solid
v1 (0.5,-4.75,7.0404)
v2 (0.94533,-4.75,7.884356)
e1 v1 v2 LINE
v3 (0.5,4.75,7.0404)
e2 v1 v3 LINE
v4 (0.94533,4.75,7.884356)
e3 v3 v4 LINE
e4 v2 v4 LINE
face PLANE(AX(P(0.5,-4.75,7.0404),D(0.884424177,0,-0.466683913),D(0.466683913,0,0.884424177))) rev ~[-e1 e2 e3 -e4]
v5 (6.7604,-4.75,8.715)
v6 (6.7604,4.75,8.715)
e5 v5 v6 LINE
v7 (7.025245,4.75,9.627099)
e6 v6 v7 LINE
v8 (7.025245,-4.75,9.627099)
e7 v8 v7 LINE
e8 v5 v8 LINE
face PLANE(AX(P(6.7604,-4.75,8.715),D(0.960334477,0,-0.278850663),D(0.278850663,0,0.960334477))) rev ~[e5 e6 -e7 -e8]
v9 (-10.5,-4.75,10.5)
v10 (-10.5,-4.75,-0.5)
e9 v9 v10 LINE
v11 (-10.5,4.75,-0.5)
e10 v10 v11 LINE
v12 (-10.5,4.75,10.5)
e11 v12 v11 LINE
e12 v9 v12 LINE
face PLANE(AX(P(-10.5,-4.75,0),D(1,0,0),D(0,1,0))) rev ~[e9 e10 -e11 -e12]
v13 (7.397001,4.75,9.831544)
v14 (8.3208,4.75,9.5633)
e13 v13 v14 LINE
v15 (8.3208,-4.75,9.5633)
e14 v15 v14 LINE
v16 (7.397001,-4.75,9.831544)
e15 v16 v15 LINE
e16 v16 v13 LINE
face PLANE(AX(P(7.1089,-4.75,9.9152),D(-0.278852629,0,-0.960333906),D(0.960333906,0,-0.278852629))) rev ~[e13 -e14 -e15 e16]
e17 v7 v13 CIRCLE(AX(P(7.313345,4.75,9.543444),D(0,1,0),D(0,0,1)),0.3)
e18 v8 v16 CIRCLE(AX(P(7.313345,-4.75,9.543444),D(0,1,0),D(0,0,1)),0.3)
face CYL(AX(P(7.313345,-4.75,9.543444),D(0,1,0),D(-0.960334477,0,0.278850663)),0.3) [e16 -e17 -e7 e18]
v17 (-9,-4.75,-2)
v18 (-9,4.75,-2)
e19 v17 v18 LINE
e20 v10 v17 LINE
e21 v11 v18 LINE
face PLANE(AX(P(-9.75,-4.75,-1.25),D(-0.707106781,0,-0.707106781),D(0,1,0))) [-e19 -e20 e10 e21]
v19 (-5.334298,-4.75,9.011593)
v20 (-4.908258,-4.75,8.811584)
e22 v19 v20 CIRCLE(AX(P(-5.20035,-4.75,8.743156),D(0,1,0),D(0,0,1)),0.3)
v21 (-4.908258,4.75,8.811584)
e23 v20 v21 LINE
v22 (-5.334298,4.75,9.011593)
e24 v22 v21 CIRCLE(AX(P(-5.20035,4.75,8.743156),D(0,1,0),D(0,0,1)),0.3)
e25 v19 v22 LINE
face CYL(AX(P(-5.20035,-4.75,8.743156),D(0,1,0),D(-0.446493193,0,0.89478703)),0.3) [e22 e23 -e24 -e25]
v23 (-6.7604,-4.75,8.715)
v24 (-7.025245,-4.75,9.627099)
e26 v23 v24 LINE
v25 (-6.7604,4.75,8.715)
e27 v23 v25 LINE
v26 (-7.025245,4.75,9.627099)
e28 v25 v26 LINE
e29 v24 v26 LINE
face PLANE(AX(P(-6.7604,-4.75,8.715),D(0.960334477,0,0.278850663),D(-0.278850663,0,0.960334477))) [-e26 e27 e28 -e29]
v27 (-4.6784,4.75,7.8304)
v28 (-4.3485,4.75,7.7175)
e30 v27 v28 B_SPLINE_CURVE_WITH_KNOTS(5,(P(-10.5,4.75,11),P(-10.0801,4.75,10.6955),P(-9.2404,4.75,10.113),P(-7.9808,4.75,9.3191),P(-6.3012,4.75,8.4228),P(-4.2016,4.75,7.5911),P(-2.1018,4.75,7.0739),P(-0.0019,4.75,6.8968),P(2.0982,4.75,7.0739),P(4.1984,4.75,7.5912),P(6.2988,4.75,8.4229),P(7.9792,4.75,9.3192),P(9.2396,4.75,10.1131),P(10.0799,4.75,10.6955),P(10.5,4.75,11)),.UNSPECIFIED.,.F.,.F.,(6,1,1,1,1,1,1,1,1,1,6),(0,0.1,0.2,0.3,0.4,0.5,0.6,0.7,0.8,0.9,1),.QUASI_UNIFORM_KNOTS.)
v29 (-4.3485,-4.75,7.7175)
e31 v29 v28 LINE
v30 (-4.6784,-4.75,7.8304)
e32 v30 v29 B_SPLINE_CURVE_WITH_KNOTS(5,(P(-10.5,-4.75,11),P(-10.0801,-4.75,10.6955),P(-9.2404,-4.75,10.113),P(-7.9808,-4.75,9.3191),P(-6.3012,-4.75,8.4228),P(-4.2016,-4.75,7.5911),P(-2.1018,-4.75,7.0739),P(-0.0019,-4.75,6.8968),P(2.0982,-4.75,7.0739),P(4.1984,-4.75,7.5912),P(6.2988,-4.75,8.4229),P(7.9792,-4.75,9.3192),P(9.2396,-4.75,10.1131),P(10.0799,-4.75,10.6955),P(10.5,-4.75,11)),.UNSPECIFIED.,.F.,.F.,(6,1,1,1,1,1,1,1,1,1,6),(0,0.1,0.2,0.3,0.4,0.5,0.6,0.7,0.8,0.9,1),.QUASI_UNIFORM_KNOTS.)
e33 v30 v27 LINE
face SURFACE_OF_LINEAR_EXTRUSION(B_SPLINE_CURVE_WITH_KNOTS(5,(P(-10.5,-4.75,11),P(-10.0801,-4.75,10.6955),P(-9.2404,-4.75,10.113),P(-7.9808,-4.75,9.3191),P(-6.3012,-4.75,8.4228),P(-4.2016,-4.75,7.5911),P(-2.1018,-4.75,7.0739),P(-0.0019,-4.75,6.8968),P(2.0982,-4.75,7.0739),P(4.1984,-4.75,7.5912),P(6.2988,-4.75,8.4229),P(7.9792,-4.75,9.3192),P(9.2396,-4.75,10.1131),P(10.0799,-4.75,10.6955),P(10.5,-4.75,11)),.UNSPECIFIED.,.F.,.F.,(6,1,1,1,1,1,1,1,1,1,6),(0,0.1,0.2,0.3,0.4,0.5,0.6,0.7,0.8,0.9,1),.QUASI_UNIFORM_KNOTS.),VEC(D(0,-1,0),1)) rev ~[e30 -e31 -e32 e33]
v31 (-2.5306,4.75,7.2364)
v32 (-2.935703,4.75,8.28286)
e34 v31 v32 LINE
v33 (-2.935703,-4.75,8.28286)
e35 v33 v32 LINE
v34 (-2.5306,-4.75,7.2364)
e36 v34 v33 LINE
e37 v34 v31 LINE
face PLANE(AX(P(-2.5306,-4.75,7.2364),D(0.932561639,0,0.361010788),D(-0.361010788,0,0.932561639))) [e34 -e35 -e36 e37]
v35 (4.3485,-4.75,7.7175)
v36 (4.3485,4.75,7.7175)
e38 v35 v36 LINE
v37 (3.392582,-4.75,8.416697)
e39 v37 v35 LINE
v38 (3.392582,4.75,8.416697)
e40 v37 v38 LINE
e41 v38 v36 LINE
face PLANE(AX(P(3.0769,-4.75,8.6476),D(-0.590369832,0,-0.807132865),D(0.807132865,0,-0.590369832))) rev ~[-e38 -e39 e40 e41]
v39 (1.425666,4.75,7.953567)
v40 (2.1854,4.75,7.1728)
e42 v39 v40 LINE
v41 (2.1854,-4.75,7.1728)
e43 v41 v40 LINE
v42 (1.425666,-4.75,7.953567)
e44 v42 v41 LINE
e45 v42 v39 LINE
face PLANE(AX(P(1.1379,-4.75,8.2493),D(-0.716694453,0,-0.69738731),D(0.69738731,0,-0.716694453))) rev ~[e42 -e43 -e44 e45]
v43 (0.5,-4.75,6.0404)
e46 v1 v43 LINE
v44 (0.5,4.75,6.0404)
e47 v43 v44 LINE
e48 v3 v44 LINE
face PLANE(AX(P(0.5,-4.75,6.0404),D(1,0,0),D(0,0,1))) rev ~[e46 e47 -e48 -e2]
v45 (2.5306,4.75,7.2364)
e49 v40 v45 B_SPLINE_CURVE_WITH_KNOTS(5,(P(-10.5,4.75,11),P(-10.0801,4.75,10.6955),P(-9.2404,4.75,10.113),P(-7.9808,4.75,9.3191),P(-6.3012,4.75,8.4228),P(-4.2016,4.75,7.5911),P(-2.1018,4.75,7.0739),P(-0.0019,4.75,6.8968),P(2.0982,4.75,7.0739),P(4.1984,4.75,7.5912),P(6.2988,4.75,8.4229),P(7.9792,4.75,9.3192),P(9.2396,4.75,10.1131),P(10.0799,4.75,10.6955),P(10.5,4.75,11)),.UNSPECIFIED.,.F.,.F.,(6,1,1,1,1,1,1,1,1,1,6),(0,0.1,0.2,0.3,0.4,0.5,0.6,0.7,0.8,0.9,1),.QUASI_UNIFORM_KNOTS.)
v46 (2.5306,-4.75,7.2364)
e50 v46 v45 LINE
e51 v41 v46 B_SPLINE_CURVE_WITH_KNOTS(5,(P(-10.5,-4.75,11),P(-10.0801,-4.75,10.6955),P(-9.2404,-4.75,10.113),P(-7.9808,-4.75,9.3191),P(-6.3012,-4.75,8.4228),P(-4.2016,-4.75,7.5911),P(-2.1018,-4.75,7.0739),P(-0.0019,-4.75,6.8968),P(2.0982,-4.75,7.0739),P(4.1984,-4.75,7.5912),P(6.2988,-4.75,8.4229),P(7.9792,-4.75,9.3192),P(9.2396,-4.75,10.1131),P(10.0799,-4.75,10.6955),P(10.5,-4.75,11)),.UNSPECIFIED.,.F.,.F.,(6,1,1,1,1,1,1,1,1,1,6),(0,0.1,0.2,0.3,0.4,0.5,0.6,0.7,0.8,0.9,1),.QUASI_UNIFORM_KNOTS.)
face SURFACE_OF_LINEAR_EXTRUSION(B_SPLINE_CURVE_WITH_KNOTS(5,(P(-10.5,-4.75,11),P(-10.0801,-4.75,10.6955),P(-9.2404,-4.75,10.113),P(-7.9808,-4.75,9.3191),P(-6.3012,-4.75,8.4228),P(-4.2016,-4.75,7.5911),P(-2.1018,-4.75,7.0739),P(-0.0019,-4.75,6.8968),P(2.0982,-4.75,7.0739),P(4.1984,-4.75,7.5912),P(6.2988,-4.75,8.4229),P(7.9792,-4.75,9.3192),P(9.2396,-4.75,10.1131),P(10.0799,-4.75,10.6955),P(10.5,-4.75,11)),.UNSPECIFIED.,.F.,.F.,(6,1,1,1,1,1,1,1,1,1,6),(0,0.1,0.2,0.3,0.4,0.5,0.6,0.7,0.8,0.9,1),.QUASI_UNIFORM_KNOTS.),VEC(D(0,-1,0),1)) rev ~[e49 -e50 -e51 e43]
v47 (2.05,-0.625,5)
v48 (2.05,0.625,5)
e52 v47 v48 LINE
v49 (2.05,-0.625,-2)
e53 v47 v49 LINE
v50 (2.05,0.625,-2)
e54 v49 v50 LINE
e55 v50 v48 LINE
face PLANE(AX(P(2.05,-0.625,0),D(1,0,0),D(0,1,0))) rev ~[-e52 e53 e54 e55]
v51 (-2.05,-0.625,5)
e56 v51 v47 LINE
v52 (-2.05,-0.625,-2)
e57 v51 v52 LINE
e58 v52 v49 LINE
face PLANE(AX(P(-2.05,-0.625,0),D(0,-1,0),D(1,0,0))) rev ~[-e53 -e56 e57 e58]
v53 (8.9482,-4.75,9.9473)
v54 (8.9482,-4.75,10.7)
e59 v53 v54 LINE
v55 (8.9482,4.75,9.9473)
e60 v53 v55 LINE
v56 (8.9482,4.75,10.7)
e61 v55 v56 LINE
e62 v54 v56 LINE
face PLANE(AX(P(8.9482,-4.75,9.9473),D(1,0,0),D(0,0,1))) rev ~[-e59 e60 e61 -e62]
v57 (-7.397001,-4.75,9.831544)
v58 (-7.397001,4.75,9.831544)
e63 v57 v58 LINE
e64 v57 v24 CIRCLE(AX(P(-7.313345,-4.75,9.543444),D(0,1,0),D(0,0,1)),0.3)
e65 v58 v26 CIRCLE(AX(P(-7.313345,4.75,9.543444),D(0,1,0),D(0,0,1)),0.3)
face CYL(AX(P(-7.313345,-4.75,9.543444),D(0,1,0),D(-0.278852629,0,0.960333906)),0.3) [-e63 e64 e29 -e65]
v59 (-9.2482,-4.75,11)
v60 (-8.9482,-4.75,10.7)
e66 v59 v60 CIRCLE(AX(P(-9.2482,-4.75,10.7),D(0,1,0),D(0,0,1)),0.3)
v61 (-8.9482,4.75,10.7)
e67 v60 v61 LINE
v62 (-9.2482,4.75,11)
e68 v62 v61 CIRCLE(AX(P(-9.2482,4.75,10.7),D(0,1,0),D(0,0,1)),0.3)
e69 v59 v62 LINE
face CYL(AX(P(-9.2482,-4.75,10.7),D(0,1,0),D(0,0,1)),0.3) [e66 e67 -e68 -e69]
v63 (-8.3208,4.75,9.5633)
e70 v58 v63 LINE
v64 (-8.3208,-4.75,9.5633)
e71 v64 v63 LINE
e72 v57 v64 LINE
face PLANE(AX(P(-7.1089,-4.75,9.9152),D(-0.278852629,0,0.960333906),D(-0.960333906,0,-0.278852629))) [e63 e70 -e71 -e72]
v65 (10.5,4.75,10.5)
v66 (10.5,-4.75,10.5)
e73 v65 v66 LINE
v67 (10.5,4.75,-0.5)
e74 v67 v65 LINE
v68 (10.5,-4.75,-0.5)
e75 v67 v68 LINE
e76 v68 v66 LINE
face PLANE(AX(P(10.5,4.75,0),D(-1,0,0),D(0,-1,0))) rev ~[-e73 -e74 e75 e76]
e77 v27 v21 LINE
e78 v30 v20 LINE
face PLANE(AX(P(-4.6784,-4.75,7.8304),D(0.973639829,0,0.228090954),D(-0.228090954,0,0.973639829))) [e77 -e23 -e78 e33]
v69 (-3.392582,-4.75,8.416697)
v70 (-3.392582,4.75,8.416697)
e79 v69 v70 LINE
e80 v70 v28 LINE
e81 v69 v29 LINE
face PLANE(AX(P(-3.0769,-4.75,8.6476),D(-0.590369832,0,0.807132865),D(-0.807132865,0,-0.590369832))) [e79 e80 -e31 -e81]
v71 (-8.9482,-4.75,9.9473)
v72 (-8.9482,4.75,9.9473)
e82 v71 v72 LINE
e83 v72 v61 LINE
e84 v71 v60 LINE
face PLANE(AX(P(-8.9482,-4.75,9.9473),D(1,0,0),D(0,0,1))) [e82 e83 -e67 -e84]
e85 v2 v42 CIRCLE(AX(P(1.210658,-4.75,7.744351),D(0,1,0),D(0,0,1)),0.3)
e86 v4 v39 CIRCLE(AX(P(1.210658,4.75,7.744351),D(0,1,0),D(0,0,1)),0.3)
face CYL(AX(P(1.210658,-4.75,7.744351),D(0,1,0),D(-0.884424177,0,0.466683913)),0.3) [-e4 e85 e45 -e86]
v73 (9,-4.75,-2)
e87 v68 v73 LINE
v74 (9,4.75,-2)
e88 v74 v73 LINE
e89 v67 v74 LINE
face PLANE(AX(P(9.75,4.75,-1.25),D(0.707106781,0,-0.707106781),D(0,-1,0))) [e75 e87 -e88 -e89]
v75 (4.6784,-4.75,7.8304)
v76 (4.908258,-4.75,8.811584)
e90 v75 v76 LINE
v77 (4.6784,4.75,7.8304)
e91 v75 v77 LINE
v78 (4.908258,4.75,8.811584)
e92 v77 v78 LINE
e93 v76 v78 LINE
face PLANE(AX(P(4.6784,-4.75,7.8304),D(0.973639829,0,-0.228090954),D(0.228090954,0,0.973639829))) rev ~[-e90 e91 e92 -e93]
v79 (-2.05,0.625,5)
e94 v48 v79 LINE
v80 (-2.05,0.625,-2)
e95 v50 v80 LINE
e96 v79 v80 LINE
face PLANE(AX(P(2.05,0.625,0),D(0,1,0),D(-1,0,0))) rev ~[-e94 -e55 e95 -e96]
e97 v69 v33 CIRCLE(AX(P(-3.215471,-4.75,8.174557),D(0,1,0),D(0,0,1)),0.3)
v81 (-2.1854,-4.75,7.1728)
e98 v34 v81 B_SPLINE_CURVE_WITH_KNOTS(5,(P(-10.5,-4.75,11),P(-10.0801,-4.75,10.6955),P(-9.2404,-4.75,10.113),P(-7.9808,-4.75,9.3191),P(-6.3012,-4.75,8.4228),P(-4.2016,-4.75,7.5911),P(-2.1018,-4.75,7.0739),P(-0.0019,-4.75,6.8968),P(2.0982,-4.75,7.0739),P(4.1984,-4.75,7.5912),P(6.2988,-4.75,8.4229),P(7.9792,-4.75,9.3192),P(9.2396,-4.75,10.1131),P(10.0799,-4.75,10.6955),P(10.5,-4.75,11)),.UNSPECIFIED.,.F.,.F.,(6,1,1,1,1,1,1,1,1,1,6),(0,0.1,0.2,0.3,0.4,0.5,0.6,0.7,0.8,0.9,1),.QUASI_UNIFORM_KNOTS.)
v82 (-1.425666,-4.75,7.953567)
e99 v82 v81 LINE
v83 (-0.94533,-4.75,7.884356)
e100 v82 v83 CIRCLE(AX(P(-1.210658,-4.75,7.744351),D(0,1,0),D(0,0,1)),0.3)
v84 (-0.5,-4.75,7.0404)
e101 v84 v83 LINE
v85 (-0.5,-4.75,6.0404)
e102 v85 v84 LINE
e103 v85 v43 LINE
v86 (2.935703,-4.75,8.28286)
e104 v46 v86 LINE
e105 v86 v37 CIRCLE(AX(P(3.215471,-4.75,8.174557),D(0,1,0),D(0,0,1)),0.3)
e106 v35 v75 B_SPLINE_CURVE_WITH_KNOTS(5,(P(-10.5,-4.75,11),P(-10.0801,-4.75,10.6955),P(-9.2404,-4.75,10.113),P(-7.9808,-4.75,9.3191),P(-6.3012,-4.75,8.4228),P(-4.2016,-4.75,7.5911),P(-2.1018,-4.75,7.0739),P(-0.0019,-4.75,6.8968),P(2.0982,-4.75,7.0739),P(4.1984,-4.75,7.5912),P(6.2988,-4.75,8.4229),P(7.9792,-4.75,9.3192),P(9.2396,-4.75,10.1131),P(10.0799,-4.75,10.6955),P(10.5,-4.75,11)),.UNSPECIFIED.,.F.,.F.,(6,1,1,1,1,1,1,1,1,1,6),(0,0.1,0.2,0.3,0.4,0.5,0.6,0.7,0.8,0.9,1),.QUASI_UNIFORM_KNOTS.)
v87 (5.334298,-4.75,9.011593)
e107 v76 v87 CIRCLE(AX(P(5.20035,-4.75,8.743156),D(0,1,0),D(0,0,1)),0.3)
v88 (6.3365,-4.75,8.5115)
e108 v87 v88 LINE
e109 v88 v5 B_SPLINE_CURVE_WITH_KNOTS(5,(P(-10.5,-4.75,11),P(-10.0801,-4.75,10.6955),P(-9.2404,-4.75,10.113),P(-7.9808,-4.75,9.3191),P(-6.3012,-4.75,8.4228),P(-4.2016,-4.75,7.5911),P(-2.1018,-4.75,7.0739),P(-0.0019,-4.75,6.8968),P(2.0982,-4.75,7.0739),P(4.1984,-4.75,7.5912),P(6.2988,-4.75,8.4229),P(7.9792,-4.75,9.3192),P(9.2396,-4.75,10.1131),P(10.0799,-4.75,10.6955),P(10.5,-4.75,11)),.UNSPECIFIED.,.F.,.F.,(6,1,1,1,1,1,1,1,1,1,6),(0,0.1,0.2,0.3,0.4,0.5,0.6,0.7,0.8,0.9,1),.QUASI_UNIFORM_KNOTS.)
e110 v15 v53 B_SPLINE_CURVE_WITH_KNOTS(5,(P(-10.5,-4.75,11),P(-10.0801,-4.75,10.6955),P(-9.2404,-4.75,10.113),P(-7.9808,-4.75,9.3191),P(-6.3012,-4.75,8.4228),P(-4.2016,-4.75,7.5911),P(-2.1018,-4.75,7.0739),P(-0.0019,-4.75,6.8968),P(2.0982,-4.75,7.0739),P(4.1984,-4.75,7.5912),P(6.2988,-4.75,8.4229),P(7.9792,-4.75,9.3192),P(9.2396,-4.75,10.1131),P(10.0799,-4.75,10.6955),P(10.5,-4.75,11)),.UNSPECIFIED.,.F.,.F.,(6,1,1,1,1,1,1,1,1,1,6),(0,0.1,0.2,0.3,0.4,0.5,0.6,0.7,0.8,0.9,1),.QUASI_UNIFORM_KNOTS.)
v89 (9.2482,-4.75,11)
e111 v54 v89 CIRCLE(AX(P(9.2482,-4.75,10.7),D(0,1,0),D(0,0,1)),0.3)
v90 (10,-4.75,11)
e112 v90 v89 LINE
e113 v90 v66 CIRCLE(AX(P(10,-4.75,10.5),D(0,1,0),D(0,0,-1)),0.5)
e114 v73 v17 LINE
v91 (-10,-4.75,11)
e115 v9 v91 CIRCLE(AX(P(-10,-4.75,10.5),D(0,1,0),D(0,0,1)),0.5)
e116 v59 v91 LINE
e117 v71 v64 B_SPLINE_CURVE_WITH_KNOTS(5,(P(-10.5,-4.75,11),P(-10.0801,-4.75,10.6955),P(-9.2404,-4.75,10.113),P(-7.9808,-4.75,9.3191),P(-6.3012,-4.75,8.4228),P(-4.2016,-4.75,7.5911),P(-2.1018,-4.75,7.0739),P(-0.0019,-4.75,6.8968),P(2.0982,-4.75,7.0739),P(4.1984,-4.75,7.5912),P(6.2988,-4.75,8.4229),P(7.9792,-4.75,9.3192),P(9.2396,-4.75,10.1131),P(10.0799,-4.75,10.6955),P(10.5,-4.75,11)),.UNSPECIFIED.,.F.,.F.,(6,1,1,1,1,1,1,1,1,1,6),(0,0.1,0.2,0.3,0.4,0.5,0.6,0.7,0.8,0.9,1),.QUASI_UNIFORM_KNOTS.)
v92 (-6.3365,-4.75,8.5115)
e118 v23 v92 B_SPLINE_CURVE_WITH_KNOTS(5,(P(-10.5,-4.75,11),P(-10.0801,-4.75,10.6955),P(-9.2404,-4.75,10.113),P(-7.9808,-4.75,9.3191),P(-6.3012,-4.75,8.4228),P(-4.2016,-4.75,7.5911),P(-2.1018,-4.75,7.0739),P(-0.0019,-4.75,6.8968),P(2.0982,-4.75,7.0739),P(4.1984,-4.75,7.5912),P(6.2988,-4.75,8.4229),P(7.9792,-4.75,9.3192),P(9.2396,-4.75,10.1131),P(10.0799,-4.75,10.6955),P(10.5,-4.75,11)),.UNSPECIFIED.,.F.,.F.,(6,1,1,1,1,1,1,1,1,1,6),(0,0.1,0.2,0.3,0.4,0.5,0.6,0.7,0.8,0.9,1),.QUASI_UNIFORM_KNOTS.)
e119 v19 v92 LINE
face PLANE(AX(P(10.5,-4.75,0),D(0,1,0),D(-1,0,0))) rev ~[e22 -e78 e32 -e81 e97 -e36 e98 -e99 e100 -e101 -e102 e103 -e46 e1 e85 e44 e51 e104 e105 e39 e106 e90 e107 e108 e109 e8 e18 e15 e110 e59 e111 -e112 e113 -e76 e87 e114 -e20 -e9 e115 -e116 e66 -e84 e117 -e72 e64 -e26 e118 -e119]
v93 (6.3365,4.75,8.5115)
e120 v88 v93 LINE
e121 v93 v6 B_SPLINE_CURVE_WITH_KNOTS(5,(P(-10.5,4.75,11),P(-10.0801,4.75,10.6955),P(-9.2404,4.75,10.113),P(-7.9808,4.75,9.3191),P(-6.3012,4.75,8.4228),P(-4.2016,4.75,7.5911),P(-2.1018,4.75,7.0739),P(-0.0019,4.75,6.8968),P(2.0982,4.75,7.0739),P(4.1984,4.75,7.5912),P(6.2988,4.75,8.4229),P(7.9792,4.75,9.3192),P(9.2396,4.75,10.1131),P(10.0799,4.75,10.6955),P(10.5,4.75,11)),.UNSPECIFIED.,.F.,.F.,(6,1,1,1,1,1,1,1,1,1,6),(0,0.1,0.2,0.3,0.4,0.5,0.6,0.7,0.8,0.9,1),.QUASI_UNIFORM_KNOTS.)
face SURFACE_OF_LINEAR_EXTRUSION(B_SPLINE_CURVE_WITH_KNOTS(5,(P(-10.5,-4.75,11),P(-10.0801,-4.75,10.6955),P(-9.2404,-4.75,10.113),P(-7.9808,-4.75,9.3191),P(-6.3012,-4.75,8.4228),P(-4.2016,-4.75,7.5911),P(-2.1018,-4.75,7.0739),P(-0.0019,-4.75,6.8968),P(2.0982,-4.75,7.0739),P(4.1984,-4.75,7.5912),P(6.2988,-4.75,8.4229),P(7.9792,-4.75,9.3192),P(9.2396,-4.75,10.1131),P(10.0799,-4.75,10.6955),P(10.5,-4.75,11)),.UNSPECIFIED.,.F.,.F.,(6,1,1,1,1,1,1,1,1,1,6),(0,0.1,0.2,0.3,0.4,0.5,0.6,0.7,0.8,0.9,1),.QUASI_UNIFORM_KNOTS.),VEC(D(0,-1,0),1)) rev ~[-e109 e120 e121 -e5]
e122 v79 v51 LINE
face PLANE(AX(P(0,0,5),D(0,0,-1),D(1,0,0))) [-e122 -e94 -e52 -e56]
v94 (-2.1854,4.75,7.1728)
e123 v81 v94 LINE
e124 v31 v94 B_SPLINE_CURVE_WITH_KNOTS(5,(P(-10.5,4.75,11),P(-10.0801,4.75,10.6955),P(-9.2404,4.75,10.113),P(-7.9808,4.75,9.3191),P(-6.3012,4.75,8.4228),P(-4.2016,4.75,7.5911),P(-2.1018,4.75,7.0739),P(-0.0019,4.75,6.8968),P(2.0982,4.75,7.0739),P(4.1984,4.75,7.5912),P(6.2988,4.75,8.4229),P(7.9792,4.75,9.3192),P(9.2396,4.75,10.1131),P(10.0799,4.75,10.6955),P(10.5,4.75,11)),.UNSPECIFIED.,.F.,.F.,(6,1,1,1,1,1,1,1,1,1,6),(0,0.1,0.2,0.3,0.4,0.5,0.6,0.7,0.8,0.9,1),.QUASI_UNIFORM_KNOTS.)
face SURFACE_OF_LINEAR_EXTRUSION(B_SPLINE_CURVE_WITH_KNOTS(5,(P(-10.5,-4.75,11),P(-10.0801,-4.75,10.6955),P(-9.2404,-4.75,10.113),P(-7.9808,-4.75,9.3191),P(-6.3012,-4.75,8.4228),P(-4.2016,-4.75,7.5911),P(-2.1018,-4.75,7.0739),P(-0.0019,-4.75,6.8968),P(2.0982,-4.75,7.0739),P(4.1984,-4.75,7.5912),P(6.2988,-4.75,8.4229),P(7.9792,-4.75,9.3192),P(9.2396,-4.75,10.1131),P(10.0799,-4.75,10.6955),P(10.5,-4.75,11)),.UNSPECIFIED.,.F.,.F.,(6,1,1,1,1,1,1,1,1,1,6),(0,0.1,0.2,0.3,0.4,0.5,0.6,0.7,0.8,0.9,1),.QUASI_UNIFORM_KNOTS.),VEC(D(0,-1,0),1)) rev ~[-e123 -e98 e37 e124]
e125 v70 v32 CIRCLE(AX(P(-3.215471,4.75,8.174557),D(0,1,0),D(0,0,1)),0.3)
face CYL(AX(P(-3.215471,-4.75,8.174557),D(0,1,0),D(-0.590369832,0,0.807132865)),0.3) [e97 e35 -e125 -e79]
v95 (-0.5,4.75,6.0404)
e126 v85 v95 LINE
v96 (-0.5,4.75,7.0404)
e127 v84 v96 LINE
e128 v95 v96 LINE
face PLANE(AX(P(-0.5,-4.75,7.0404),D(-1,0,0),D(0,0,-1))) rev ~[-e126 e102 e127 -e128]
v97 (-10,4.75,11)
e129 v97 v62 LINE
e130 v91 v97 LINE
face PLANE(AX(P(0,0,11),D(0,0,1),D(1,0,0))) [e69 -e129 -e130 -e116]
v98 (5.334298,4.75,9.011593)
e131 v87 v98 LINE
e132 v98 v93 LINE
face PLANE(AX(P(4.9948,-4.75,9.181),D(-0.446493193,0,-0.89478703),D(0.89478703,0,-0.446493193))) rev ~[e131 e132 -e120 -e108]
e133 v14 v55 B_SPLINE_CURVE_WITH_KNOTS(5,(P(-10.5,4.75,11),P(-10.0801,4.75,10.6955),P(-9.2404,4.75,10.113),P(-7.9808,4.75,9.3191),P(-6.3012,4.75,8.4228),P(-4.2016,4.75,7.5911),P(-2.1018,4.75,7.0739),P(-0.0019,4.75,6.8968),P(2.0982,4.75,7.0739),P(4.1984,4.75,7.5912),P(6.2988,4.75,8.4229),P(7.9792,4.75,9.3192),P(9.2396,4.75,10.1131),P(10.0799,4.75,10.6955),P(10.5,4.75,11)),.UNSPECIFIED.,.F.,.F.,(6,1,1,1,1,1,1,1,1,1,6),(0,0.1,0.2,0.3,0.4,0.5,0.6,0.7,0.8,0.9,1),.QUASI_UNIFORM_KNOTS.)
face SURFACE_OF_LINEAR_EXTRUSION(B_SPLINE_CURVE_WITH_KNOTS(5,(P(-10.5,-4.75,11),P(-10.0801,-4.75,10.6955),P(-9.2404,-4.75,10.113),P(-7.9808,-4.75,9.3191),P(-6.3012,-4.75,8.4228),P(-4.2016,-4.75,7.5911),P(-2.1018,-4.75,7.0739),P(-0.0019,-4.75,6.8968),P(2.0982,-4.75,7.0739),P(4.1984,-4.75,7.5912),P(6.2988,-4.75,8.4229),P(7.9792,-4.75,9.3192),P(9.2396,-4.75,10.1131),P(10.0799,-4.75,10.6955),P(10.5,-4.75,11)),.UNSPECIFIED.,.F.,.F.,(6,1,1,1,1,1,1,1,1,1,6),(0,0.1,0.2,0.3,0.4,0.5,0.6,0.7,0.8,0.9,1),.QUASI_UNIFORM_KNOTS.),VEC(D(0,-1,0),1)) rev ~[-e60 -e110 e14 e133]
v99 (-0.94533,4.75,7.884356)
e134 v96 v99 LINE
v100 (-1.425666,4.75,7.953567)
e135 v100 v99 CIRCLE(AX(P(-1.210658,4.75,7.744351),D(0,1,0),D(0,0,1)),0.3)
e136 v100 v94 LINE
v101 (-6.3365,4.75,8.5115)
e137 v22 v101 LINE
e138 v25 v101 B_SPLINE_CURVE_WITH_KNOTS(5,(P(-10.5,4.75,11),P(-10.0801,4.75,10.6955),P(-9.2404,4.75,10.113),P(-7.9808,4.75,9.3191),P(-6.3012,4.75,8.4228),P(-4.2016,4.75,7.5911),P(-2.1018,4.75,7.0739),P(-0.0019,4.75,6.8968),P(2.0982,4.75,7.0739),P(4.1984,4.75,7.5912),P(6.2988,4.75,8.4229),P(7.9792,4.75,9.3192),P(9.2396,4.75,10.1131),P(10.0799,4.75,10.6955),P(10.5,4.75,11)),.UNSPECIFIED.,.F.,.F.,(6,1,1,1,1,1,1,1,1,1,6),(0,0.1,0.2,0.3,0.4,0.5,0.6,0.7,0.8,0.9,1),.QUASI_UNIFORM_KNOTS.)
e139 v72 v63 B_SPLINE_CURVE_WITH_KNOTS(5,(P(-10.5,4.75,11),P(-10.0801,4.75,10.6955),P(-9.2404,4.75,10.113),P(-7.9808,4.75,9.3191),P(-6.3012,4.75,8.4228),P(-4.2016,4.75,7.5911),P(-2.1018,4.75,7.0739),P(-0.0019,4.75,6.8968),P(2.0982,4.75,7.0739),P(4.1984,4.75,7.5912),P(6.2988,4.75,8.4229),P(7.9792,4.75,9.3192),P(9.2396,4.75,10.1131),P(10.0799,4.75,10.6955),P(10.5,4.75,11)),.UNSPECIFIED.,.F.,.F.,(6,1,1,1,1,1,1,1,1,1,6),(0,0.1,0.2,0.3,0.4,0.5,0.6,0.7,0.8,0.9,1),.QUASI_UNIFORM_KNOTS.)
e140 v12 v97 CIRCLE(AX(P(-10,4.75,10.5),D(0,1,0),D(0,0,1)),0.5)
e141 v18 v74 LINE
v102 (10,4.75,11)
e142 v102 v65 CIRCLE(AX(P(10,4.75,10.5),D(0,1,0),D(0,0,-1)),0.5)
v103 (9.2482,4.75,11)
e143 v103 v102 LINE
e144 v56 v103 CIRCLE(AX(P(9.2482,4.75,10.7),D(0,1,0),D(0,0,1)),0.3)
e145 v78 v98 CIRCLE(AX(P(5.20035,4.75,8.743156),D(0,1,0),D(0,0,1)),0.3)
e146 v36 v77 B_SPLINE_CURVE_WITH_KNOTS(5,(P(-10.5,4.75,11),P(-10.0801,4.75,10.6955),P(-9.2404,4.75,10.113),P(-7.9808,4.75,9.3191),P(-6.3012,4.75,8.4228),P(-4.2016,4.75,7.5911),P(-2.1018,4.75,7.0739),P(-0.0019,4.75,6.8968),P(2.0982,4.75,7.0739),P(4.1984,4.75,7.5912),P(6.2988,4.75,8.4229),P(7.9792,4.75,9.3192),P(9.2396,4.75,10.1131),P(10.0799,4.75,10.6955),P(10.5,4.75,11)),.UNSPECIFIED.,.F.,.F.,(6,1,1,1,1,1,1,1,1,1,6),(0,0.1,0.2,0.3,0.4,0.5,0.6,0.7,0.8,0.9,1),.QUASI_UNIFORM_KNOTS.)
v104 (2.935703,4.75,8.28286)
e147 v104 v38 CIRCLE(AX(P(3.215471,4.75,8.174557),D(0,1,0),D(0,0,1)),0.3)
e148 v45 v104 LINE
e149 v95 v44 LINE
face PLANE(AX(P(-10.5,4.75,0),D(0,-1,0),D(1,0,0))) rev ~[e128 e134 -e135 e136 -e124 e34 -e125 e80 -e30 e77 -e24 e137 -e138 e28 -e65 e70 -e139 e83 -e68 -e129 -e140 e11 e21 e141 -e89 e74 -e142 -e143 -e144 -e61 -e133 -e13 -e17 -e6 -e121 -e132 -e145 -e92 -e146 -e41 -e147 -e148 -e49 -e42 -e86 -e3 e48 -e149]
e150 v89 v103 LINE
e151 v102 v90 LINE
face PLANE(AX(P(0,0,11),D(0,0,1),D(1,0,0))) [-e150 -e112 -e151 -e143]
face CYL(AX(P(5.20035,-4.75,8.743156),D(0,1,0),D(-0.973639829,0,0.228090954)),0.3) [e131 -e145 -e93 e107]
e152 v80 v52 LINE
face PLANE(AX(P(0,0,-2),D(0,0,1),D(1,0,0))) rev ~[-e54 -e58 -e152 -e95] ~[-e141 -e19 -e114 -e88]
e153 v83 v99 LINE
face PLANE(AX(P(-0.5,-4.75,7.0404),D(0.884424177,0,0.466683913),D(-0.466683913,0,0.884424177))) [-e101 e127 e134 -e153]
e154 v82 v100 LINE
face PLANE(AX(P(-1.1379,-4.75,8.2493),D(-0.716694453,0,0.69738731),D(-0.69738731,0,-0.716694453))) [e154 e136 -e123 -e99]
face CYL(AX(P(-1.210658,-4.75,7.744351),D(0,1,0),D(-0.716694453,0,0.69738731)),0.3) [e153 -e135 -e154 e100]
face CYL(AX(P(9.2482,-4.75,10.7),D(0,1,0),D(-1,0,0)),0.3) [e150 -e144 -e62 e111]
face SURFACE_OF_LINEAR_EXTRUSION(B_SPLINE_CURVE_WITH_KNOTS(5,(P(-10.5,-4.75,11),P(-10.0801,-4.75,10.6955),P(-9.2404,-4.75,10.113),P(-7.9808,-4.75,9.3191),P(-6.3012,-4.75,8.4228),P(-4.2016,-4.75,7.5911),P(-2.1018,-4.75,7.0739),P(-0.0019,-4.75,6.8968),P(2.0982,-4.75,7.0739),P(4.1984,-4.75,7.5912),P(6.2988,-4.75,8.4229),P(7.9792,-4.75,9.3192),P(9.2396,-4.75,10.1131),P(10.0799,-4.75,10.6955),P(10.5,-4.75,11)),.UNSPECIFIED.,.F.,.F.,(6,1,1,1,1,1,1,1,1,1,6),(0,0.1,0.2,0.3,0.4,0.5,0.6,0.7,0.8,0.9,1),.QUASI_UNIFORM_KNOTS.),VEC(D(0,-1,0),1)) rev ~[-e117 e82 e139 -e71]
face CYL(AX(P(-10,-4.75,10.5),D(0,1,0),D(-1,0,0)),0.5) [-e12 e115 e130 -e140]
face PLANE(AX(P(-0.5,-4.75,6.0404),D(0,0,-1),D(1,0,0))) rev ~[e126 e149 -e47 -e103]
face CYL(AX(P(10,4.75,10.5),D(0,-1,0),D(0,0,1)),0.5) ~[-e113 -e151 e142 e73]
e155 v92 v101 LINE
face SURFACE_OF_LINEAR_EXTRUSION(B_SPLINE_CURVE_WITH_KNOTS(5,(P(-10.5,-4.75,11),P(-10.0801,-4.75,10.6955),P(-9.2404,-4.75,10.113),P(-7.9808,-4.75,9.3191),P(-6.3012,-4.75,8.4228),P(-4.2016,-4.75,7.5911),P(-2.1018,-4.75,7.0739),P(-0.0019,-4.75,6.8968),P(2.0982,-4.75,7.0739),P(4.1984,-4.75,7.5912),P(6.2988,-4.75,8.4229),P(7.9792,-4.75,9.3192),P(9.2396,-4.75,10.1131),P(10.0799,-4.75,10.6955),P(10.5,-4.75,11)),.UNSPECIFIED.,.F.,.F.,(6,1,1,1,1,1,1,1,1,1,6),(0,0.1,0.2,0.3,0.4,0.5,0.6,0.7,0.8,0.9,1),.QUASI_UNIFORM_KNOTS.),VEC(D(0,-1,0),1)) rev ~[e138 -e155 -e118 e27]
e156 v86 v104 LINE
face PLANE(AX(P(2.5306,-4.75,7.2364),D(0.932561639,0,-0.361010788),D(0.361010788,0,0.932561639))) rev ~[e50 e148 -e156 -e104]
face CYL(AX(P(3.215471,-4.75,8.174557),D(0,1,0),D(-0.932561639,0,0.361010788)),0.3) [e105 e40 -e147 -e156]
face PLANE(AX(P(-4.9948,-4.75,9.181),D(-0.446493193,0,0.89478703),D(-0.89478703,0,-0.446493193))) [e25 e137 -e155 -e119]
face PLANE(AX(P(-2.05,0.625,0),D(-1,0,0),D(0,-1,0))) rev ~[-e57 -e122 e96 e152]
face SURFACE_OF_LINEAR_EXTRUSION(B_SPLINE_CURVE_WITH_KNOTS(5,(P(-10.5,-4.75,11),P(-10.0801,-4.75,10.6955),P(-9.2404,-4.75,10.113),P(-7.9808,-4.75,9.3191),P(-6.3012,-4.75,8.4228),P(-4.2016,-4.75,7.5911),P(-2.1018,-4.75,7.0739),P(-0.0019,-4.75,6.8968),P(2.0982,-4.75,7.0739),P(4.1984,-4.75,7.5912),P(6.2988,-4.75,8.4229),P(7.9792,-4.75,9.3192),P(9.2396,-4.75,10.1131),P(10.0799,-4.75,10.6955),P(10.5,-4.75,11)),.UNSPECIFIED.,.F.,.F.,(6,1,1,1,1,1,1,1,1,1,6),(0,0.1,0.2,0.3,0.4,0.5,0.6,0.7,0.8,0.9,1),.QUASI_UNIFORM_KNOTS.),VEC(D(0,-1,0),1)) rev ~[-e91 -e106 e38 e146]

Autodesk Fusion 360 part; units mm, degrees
sketch "Sketch1" plane through (0, 0, 0) normal (0, 0, 1) x (1, 0, 0)
  line L0 (10.5, -4.75) -> (-10.5, -4.75)
  line L1 (-10.5, -4.75) -> (-10.5, 4.75)
  line L2 (-10.5, 4.75) -> (10.5, 4.75)
  line L3 (10.5, 4.75) -> (10.5, -4.75)
  line L4 (10.5, -4.75) -> (-10.5, 4.75) construction
  line L5 (-10.5, -4.75) -> (10.5, 4.75) construction
  dimension "d1" = 21
  dimension "d2" = 9.5
extrude "Extrude1" add sketch "Sketch1" along normal blind 11
sketch "Sketch2" plane through (0, 0, 0) normal (0, 0, -1) x (1, 0, 0)
  line L0 (-10.5, -4.75) -> (10.5, -4.75)
  line L1 (10.5, -4.75) -> (10.5, 4.75)
  line L2 (10.5, 4.75) -> (-10.5, 4.75)
  line L3 (-10.5, 4.75) -> (-10.5, -4.75)
  line L4 (2.05, -0.625) -> (-2.05, -0.625)
  line L5 (-2.05, -0.625) -> (-2.05, 0.625)
  line L6 (-2.05, 0.625) -> (2.05, 0.625)
  line L7 (2.05, 0.625) -> (2.05, -0.625)
  line L8 (2.05, -0.625) -> (-2.05, 0.625) construction
  line L9 (-2.05, -0.625) -> (2.05, 0.625) construction
  dimension "d5" = 4.1
  dimension "d6" = 1.25
sketch "Sketch3" plane through (0, -4.75, 0) normal (0, -1, 0) x (1, 0, 0)
  line L0 (-10.5, 0) -> (10.5, 0)
  line L1 (10.5, 0) -> (10.5, 11)
  line L2 (10.5, 11) -> (-10.5, 11)
  line L3 (-10.5, 11) -> (-10.5, 0)
  spline S0 degree 5 poles (-10.5, 11) (-10.0801, 10.6955) (-9.2404, 10.113) (-7.9808, 9.3191) (-6.3012, 8.4228) (-4.2016, 7.5911) (-2.1018, 7.0739) (-0.0019, 6.8968) (2.0982, 7.0739) (4.1984, 7.5912) (6.2988, 8.4229) (7.9792, 9.3192) (9.2396, 10.1131) (10.0799, 10.6955) (10.5, 11) knots 0 0 0 0 0 0 0.1 0.2 0.3 0.4 0.5 0.6 0.7 0.8 0.9 1 1 1 1 1 1
  line L4 (-0.0031, 6.9851) -> (-0.0336, 6.9851)
  line L5 (-0.5, 7.0404) -> (-0.5, 6.0404)
  line L6 (-0.5, 6.0404) -> (0.5, 6.0404)
  line L7 (0.5, 6.0404) -> (0.5, 6.9951)
  line L8 (0, 11) -> (0, 10) construction
  line L9 (-0.5, 7.0404) -> (-1.1379, 8.2493)
  line L10 (-1.1379, 8.2493) -> (-2.1854, 7.1728)
  line L11 (-2.5306, 7.2364) -> (-3.0769, 8.6476)
  line L12 (-3.0769, 8.6476) -> (-4.3485, 7.7175)
  line L13 (-4.6784, 7.8304) -> (-4.9948, 9.181)
  line L14 (-4.9948, 9.181) -> (-6.3365, 8.5115)
  line L15 (-6.7604, 8.715) -> (-7.1089, 9.9152)
  line L16 (-7.1089, 9.9152) -> (-8.3208, 9.5633)
  line L17 (-8.9482, 9.9473) -> (-8.9482, 11)
  line L18 (0.5, 6.9951) -> (0.5, 7.565)
  line L19 (0.5, 7.0404) -> (1.1379, 8.2493)
  line L20 (1.1379, 8.2493) -> (2.1854, 7.1728)
  line L21 (2.5306, 7.2364) -> (3.0769, 8.6476)
  line L22 (3.0769, 8.6476) -> (4.3485, 7.7175)
  line L23 (4.6784, 7.8304) -> (4.9948, 9.181)
  line L24 (4.9948, 9.181) -> (6.3365, 8.5115)
  line L25 (6.7604, 8.715) -> (7.1089, 9.9152)
  line L26 (7.1089, 9.9152) -> (8.3208, 9.5633)
  line L27 (8.9482, 9.9473) -> (8.9482, 11)
  point P0 (-0.0031, 6.9851)
  dimension "d10" = 0.5
  dimension "d11" = 1
  dimension "d12" = 1
extrude "Extrude2" cut sketch "Sketch2" against normal blind 5 contours L4 L5 L6 L7
extrude "Extrude5" cut sketch "Sketch3" against normal blind 9.5 contours L2 S0 L4 L5 L9 L10 L11 L12 L13 L14 L15 L16 L17 L18 L19 L20 L21 L22 L23 L24 L25 L26 L27 | S0 L4 L5 L6 L7
fillet "Fillet2" radius 0.3 10 edges at (-8.9482, 0, 11) (-7.1089, 0, 9.9152) (-4.9948, 0, 9.181) (-3.0769, 0, 8.6476) (-1.1379, 0, 8.2493) (1.1379, 0, 8.2493) (3.0769, 0, 8.6476) (4.9948, 0, 9.181) (7.1089, 0, 9.9152) (8.9482, 0, 11)
fillet "Fillet3" radius 0.5 2 edges at (10.5, 0, 11) (-10.5, 0, 11)
extrude "Extrude6" add 1 faces at (-7.6833, 0.2083, 0) along direction (0, 0, -1) blind 2
chamfer "Chamfer2" distance 1.5 angle 45 2 edges at (-10.5, 0, -2) (10.5, 0, -2)
